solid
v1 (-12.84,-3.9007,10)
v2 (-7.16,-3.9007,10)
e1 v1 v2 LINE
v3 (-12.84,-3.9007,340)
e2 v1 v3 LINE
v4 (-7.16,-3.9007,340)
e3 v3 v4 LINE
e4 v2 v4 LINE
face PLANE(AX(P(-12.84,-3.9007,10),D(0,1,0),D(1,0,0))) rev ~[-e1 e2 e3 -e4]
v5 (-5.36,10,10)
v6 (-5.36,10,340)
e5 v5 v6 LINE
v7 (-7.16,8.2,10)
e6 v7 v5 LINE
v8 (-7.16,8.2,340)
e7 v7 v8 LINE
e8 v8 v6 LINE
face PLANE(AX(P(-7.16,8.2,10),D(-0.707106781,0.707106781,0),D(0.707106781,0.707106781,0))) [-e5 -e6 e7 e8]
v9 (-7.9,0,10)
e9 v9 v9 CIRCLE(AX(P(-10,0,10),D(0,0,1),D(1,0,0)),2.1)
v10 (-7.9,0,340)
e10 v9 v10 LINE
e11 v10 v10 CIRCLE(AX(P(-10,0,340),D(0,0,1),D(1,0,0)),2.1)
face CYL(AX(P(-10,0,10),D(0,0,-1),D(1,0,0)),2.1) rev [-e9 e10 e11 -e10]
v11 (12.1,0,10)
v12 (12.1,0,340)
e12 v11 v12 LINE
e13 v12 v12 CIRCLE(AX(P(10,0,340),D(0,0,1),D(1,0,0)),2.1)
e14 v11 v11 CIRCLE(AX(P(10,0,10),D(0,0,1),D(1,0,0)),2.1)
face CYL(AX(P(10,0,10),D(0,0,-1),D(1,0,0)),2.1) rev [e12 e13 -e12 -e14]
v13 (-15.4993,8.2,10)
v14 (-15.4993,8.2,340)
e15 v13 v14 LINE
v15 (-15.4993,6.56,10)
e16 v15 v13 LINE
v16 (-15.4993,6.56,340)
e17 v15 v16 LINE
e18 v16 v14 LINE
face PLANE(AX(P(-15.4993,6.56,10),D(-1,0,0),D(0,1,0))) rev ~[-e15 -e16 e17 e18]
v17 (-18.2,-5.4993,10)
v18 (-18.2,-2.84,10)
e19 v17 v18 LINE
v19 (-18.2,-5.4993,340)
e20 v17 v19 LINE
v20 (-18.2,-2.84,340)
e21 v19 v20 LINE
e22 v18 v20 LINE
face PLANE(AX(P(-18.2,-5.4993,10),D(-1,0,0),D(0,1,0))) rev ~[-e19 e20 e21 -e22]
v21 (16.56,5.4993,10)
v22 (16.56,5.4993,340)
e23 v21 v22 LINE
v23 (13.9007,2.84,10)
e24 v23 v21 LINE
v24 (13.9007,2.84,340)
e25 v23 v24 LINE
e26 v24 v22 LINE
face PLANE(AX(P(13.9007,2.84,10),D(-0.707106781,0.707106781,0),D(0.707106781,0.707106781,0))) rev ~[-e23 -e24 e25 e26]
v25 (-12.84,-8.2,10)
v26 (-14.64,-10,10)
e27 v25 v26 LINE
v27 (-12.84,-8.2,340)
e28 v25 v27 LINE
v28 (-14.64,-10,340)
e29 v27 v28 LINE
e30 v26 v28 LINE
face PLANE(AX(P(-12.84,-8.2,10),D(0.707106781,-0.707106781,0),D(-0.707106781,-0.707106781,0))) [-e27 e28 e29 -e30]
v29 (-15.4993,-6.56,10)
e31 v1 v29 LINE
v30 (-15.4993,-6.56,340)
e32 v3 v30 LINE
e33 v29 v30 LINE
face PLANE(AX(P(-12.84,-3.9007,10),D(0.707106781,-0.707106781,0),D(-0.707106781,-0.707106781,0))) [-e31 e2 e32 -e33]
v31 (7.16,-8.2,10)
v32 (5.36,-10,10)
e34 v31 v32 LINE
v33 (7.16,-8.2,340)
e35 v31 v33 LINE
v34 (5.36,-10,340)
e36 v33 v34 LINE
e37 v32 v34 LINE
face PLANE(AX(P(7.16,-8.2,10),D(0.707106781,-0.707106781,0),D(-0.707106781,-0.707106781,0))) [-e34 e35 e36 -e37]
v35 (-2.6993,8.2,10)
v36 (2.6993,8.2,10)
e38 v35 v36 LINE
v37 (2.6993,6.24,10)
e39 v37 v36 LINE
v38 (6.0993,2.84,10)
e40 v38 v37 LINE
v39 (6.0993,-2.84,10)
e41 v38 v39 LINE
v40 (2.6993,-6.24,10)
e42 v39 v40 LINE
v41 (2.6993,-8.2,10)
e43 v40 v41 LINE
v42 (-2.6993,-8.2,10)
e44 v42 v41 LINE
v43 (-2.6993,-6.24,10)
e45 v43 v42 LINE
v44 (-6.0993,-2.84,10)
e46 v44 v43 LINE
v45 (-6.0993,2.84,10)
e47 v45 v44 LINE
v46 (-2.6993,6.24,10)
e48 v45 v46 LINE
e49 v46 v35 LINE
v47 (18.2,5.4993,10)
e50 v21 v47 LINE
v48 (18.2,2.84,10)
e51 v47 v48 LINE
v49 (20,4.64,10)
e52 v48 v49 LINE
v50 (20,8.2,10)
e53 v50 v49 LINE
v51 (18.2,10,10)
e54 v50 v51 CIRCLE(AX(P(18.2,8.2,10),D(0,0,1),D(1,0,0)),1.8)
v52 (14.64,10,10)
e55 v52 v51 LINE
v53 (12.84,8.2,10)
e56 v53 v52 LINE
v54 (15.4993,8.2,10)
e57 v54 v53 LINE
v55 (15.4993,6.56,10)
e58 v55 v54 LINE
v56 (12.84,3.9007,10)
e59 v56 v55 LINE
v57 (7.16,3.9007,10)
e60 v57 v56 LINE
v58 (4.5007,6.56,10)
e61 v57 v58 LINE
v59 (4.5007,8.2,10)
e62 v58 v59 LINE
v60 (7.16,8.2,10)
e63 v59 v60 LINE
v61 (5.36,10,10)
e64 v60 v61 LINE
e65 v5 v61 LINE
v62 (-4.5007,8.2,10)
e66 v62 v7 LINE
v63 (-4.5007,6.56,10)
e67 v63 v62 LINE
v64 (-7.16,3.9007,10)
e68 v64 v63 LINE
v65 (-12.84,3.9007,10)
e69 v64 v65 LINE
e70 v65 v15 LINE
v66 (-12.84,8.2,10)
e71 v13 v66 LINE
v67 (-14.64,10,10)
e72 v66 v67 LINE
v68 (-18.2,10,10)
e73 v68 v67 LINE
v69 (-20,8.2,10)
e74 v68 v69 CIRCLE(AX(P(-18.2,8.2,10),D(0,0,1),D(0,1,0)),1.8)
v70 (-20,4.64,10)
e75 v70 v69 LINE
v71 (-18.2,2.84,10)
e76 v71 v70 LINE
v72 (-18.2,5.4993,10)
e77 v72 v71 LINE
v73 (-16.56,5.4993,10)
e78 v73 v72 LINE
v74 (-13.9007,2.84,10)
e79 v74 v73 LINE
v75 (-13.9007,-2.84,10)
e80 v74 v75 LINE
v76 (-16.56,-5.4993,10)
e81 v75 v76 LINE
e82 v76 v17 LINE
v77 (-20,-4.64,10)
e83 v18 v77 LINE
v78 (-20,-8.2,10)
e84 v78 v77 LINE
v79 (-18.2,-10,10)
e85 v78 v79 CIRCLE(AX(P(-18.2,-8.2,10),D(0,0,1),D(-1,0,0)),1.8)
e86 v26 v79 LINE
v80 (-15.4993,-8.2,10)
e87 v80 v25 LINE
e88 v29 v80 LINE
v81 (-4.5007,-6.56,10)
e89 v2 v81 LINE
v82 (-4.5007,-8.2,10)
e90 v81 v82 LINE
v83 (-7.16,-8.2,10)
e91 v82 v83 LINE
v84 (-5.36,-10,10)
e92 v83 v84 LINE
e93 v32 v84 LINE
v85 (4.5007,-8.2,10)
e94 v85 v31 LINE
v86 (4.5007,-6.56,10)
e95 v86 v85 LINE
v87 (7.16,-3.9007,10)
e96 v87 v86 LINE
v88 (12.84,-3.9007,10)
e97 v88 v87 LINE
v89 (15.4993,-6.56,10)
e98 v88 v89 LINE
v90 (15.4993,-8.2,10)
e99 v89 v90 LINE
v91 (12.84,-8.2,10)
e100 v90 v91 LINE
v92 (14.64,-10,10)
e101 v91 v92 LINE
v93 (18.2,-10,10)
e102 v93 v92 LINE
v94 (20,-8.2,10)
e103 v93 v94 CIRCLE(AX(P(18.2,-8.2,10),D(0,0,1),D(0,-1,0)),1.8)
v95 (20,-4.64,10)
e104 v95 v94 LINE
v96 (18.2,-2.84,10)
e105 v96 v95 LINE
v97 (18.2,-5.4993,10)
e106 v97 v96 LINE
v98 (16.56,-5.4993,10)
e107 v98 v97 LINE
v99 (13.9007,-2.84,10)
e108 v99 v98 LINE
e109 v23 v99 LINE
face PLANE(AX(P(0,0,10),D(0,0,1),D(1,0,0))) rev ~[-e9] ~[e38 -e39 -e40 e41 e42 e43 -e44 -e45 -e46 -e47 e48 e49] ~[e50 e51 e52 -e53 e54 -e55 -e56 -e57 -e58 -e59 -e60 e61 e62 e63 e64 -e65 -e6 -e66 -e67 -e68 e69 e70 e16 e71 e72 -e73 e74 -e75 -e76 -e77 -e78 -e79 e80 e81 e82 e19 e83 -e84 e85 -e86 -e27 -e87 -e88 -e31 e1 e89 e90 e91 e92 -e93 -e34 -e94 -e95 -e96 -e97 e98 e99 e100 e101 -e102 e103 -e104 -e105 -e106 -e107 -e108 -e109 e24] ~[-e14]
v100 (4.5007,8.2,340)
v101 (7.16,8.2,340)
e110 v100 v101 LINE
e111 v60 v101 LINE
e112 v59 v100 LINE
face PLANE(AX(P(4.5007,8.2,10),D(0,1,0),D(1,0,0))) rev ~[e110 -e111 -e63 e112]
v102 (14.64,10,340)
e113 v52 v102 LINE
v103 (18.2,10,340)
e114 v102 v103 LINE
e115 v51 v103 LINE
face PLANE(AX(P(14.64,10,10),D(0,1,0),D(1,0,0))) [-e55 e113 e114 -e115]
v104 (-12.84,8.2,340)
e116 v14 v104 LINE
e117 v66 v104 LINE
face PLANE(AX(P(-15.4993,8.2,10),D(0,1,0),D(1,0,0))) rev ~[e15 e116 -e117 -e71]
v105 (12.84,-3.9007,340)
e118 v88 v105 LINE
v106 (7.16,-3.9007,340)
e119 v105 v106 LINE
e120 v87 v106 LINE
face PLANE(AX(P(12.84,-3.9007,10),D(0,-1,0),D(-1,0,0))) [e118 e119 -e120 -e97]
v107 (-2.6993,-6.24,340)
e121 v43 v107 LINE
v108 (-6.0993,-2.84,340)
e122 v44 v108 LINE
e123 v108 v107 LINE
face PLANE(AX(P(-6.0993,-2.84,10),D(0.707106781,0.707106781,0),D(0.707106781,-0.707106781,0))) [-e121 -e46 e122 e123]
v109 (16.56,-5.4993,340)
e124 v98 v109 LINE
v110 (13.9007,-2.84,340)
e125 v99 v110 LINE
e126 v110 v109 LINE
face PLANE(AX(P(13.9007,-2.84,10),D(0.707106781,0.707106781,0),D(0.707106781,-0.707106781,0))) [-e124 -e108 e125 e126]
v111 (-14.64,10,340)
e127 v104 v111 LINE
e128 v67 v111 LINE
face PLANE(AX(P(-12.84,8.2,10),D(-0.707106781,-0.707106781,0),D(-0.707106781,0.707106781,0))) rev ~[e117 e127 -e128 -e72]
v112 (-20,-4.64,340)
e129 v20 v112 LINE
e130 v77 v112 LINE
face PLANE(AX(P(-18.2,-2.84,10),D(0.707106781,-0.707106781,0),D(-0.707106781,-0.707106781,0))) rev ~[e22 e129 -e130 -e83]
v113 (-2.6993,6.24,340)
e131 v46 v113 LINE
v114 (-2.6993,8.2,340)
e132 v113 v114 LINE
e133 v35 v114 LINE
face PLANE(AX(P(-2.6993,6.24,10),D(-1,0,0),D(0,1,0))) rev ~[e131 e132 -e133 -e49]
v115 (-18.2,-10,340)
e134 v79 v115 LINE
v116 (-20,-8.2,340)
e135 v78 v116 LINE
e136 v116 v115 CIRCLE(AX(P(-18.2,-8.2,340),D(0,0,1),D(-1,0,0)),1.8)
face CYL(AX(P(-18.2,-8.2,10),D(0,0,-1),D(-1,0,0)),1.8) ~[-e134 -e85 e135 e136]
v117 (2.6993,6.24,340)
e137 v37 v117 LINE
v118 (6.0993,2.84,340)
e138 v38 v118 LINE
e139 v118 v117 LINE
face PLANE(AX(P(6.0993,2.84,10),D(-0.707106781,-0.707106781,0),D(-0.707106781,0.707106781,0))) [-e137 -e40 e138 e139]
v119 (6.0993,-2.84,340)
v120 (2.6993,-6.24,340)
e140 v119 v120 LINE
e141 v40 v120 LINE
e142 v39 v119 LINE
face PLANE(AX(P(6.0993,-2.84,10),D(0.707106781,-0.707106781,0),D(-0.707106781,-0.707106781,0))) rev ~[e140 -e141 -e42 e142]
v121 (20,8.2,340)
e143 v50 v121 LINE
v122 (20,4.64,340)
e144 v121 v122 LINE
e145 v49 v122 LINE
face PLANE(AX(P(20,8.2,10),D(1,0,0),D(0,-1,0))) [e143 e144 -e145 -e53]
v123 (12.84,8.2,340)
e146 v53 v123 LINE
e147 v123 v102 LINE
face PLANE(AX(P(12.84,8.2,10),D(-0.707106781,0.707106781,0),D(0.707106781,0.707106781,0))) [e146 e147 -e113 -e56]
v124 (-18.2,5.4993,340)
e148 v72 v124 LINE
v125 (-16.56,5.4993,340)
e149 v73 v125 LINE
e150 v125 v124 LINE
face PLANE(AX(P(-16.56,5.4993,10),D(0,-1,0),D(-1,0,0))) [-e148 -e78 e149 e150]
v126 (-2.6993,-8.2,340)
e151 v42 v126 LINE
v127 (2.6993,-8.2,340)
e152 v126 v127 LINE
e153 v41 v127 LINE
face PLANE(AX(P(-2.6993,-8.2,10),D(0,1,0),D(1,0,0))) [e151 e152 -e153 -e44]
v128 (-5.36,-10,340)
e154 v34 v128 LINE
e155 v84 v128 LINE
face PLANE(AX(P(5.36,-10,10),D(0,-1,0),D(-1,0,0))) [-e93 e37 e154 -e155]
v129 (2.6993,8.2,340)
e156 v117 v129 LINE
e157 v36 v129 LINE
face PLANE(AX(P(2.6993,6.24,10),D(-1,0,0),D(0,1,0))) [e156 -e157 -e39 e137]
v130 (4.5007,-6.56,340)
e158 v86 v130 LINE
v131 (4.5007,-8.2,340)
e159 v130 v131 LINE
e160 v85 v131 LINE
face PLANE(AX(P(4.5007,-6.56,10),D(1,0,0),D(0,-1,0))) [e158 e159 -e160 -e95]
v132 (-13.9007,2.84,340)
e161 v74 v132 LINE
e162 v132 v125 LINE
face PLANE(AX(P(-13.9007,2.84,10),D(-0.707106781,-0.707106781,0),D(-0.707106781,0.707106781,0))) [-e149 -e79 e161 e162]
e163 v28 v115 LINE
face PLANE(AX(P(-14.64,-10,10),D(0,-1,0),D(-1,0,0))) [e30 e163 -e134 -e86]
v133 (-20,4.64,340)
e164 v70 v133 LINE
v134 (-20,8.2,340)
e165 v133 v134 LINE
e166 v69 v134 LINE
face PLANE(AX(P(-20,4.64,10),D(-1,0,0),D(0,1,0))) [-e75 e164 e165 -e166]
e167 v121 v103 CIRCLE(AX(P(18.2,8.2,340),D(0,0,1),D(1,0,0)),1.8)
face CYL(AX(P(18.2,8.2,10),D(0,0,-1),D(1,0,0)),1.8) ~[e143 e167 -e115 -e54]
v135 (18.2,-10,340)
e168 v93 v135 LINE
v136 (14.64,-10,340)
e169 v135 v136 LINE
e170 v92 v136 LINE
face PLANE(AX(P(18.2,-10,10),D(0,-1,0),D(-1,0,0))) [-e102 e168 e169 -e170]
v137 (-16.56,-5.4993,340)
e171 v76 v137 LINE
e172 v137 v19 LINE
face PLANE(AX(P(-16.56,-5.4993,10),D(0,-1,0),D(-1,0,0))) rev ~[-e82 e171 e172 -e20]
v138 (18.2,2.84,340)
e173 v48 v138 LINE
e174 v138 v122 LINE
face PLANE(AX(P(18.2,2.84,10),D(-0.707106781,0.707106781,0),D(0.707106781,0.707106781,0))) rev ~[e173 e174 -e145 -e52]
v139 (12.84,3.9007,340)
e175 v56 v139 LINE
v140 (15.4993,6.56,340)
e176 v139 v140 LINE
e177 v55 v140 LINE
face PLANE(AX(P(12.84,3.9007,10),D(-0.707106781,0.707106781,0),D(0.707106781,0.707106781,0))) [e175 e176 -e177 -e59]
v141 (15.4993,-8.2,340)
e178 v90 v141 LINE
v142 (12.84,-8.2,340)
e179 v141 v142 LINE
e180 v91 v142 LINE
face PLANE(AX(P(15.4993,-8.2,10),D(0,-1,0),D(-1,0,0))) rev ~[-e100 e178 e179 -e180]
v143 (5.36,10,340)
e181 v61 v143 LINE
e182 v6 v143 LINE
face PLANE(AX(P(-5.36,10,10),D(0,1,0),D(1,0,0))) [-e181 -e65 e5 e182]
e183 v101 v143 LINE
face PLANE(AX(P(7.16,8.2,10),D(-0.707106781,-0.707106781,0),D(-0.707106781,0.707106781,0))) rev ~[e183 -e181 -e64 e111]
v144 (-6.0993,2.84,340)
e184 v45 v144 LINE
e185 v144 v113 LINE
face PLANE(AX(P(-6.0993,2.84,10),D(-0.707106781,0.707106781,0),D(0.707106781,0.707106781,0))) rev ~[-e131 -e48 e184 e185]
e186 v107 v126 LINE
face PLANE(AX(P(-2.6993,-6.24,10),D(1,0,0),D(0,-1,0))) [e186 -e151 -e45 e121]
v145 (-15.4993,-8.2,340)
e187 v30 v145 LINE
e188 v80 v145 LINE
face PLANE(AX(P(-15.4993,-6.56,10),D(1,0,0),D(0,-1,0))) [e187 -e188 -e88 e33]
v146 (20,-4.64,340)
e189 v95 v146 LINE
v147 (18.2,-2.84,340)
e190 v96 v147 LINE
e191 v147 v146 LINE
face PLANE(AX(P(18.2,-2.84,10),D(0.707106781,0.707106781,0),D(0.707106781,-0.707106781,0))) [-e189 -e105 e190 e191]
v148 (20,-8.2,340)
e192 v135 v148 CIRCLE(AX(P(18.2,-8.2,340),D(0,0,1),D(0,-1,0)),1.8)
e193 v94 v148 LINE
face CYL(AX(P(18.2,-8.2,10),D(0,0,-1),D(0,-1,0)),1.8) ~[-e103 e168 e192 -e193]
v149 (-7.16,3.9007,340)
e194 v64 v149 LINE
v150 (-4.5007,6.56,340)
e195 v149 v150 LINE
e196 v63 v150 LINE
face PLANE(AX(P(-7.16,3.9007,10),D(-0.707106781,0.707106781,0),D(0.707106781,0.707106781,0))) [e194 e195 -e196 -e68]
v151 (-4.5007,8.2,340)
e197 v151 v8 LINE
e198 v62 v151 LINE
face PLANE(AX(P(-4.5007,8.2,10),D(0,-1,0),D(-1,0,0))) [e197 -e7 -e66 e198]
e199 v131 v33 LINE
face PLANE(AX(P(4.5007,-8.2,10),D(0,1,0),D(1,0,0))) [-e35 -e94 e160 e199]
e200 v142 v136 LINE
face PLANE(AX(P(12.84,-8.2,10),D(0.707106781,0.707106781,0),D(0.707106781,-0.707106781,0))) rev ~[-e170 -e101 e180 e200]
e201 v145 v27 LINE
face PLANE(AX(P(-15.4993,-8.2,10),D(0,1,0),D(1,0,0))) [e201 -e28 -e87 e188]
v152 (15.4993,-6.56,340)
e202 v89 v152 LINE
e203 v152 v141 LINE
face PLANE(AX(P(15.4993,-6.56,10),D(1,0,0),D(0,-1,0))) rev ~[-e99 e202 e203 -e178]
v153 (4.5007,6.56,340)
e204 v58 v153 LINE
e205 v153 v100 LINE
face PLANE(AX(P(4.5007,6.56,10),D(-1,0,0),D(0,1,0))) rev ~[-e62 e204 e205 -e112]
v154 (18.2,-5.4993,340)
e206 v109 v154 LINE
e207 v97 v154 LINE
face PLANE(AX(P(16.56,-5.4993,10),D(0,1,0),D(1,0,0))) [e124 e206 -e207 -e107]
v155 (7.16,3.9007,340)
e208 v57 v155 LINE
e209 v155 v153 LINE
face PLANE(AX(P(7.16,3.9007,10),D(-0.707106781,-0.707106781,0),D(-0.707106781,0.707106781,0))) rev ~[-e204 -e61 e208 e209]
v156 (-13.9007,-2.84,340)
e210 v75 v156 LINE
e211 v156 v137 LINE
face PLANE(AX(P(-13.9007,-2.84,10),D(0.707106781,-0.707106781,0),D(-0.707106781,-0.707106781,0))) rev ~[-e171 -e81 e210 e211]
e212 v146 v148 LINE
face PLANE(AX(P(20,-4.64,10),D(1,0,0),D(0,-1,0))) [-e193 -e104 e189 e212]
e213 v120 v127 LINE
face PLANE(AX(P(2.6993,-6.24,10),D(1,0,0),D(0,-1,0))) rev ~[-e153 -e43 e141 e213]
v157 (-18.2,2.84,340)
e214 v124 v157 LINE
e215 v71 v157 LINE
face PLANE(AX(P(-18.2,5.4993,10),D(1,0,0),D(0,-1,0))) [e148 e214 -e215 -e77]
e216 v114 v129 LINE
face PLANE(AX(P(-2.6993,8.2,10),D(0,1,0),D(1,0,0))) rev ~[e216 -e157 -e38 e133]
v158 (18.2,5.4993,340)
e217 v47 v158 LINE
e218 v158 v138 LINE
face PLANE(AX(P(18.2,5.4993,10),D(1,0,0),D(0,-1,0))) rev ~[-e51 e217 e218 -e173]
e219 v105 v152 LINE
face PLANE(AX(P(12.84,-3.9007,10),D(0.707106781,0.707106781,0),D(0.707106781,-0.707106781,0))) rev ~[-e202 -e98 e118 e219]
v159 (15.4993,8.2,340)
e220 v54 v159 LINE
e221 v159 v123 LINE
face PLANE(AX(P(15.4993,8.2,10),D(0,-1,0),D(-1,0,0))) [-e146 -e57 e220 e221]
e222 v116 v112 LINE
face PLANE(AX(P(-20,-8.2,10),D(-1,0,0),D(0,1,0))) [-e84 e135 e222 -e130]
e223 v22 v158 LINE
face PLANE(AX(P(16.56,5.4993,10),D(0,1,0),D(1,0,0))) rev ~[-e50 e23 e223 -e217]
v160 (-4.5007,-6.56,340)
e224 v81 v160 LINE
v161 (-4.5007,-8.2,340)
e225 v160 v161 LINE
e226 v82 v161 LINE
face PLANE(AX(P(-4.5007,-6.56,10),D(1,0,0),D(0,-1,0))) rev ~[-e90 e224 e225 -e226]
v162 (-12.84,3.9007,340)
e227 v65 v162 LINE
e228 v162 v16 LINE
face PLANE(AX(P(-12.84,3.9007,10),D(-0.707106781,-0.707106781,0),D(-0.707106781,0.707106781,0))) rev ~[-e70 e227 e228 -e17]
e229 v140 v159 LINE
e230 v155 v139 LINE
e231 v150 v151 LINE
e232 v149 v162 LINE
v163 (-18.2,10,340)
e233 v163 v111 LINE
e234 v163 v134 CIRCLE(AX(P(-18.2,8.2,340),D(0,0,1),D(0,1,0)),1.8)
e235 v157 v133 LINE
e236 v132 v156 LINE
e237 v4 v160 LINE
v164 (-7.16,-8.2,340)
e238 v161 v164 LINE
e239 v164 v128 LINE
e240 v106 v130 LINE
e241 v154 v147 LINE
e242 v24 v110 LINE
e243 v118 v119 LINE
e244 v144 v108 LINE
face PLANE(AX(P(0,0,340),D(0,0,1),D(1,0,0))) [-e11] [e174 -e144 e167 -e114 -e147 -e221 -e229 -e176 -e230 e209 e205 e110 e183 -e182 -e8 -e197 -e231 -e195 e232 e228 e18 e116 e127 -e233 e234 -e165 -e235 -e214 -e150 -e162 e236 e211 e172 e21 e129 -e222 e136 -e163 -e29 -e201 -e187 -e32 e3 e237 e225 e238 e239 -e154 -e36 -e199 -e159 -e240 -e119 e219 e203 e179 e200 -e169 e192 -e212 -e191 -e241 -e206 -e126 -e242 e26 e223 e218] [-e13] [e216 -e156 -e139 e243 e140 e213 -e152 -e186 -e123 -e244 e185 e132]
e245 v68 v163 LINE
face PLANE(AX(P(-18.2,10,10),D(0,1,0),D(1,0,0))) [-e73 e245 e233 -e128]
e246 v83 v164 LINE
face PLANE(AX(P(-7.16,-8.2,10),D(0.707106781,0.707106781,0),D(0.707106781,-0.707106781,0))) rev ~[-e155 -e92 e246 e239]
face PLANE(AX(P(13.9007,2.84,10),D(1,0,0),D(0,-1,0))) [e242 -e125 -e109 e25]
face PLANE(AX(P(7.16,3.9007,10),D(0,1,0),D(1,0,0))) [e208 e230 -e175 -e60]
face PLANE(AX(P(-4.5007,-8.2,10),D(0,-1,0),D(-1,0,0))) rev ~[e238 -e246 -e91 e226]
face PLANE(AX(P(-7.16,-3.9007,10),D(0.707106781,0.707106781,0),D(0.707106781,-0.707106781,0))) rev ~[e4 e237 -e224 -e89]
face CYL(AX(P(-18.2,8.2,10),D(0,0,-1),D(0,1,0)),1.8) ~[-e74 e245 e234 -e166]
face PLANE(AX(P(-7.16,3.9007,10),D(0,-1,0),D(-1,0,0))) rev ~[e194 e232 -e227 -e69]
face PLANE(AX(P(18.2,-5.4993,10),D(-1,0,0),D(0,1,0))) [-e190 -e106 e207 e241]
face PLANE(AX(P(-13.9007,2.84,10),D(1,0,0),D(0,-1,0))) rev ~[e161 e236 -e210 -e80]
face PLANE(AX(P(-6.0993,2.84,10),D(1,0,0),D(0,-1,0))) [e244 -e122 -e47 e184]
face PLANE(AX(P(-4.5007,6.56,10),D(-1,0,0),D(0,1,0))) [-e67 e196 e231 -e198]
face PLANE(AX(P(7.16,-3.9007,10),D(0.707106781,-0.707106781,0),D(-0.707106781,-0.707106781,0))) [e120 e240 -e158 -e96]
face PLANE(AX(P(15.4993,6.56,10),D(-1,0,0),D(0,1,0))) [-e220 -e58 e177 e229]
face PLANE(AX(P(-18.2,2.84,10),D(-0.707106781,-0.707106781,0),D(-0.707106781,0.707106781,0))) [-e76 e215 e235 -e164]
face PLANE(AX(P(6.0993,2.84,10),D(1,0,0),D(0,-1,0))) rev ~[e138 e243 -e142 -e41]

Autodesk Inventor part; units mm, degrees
ref_plane "Start Plane" through (0, 0, 10) normal (0, 0, 1) x (1, 0, 0)
ref_plane "End Plane" through (0, 0, 340) normal (0, 0, 1) x (1, 0, 0)
sketch "Sketch" plane through (0, 0, 0) normal (0, 0, 1) x (1, 0, 0)
  line L0 (0, 0) -> (0, 10) construction
  line L1 (-10, 10) -> (-10, 0) construction
  line L2 (0, 0) -> (-10, 0) construction
  circle A0 centre (-10, 0) radius 2.1
  line L3 (-13.9007, 3.9007) -> (-6.0993, 3.9007) construction
  line L4 (-6.0993, 3.9007) -> (-6.0993, -3.9007) construction
  line L5 (-6.0993, -3.9007) -> (-13.9007, -3.9007) construction
  line L6 (-13.9007, -3.9007) -> (-13.9007, 3.9007) construction
  line L7 (-13.9007, 3.9007) -> (-6.0993, -3.9007) construction
  line L8 (-6.0993, 3.9007) -> (-13.9007, -3.9007) construction
  line L9 (-13.9007, -2.84) -> (-12.84, -3.9007) construction
  line L10 (-13.9007, -2.84) -> (-12.4007, -2.84) construction
  line L11 (-12.84, -3.9007) -> (-15.4993, -6.56)
  line L12 (-15.4993, -6.56) -> (-15.4993, -8.2)
  line L13 (-15.4993, -8.2) -> (-12.84, -8.2)
  line L14 (-12.84, -8.2) -> (-14.64, -10)
  line L15 (-7.16, -3.9007) -> (-4.5007, -6.56)
  line L16 (-4.5007, -6.56) -> (-4.5007, -8.2)
  line L17 (-4.5007, -8.2) -> (-7.16, -8.2)
  line L18 (-7.16, -8.2) -> (-5.36, -10)
  line L19 (-12.84, -3.9007) -> (-7.16, -3.9007)
  line L20 (-12.84, 3.9007) -> (-13.9007, 2.84) construction
  line L21 (-12.84, 3.9007) -> (-12.84, 2.4007) construction
  line L22 (-13.9007, 2.84) -> (-16.56, 5.4993)
  line L23 (-16.56, 5.4993) -> (-18.2, 5.4993)
  line L24 (-18.2, 5.4993) -> (-18.2, 2.84)
  line L25 (-18.2, 2.84) -> (-20, 4.64)
  line L26 (-18.2, -2.84) -> (-20, -4.64)
  line L27 (-18.2, -5.4993) -> (-18.2, -2.84)
  line L28 (-16.56, -5.4993) -> (-18.2, -5.4993)
  line L29 (-13.9007, -2.84) -> (-16.56, -5.4993)
  line L30 (-13.9007, 2.84) -> (-13.9007, -2.84)
  line L31 (-6.0993, 2.84) -> (-7.16, 3.9007) construction
  line L32 (-6.0993, 2.84) -> (-7.5993, 2.84) construction
  line L33 (-7.16, 3.9007) -> (-4.5007, 6.56)
  line L34 (-4.5007, 6.56) -> (-4.5007, 8.2)
  line L35 (-4.5007, 8.2) -> (-7.16, 8.2)
  line L36 (-7.16, 8.2) -> (-5.36, 10)
  line L37 (-12.84, 8.2) -> (-14.64, 10)
  line L38 (-15.4993, 8.2) -> (-12.84, 8.2)
  line L39 (-15.4993, 6.56) -> (-15.4993, 8.2)
  line L40 (-12.84, 3.9007) -> (-15.4993, 6.56)
  line L41 (-7.16, 3.9007) -> (-12.84, 3.9007)
  line L42 (-6.0993, 2.84) -> (-2.6993, 6.24)
  line L43 (-2.6993, 6.24) -> (-2.6993, 8.2)
  line L44 (-4.5007, 8.2) -> (0, 8.2) construction
  line L45 (-6.0993, -2.84) -> (-2.6993, -6.24)
  line L46 (-2.6993, -6.24) -> (-2.6993, -8.2)
  line L47 (10, 10) -> (10, 0) construction
  circle A1 centre (10, 0) radius 2.1
  line L48 (13.9007, 3.9007) -> (6.0993, -3.9007) construction
  line L49 (13.9007, -2.84) -> (12.84, -3.9007) construction
  line L50 (12.84, -3.9007) -> (15.4993, -6.56)
  line L51 (15.4993, -6.56) -> (15.4993, -8.2)
  line L52 (15.4993, -8.2) -> (12.84, -8.2)
  line L53 (12.84, -8.2) -> (14.64, -10)
  line L54 (7.16, -8.2) -> (5.36, -10)
  line L55 (4.5007, -8.2) -> (7.16, -8.2)
  line L56 (4.5007, -6.56) -> (4.5007, -8.2)
  line L57 (7.16, -3.9007) -> (4.5007, -6.56)
  line L58 (12.84, -3.9007) -> (7.16, -3.9007)
  line L59 (13.9007, 2.84) -> (13.9007, -2.84)
  line L60 (13.9007, 2.84) -> (16.56, 5.4993)
  line L61 (16.56, 5.4993) -> (18.2, 5.4993)
  line L62 (18.2, 5.4993) -> (18.2, 2.84)
  line L63 (18.2, 2.84) -> (20, 4.64)
  line L64 (18.2, -5.4993) -> (18.2, -2.84)
  line L65 (18.2, -2.84) -> (20, -4.64)
  line L66 (16.56, -5.4993) -> (18.2, -5.4993)
  line L67 (13.9007, -2.84) -> (16.56, -5.4993)
  line L68 (7.16, 3.9007) -> (12.84, 3.9007)
  line L69 (7.16, 3.9007) -> (4.5007, 6.56)
  line L70 (4.5007, 6.56) -> (4.5007, 8.2)
  line L71 (4.5007, 8.2) -> (7.16, 8.2)
  line L72 (7.16, 8.2) -> (5.36, 10)
  line L73 (15.4993, 8.2) -> (12.84, 8.2)
  line L74 (12.84, 8.2) -> (14.64, 10)
  line L75 (15.4993, 6.56) -> (15.4993, 8.2)
  line L76 (12.84, 3.9007) -> (15.4993, 6.56)
  line L77 (6.0993, 2.84) -> (2.6993, 6.24)
  line L78 (2.6993, 6.24) -> (2.6993, 8.2)
  line L79 (6.0993, -2.84) -> (2.6993, -6.24)
  line L80 (2.6993, -6.24) -> (2.6993, -8.2)
  line L81 (-14.64, -10) -> (-18.2, -10)
  line L82 (-20, -8.2) -> (-20, -4.64)
  line L83 (-20, 4.64) -> (-20, 8.2)
  line L84 (-18.2, 10) -> (-14.64, 10)
  line L85 (18.2, -10) -> (14.64, -10)
  line L86 (5.36, -10) -> (-5.36, -10)
  line L87 (-5.36, 10) -> (5.36, 10)
  line L88 (14.64, 10) -> (18.2, 10)
  line L89 (20, 8.2) -> (20, 4.64)
  line L90 (20, -4.64) -> (20, -8.2)
  line L91 (-2.6993, -8.2) -> (2.6993, -8.2)
  line L92 (-2.6993, 8.2) -> (2.6993, 8.2)
  line L93 (-6.0993, 2.84) -> (-6.0993, -2.84)
  line L94 (6.0993, 2.84) -> (6.0993, -2.84)
  arc A2 (-20, -8.2) -> (-18.2, -10) centre (-18.2, -8.2) ccw
  arc A3 (-18.2, 10) -> (-20, 8.2) centre (-18.2, 8.2) ccw
  arc A4 (18.2, -10) -> (20, -8.2) centre (18.2, -8.2) ccw
  arc A5 (20, 8.2) -> (18.2, 10) centre (18.2, 8.2) ccw
  point P0 (-13.9007, -3.9007)
  point P1 (-13.9007, 3.9007)
  point P2 (-13.9007, 3.9007)
  point P3 (-6.0993, 3.9007)
  point P4 (6.0993, 3.9007)
  point P5 (13.9007, -3.9007)
  point P6 (12.4007, -2.84)
  point P7 (13.9007, -3.9007)
  point P8 (13.9007, 3.9007)
  point P9 (12.84, 3.9007)
  point P10 (12.84, 2.4007)
  point P11 (13.9007, 3.9007)
  point P12 (6.0993, 3.9007)
  point P13 (7.5993, 2.84)
  point P14 (-20, 10)
  point P15 (20, -10)
  point P16 (20, 10)
  point P17 (-20, -10)
  dimension "d26" = 10
  dimension "d27" = 10
  dimension "d28" = 4.2
  dimension "d29" = 1.5
  dimension "d30" = 45
  dimension "d32" = 45
  dimension "d33" = 1.64
  dimension "d34" = 1.8
  dimension "d35" = 10
  dimension "d36" = 5.68
  dimension "d39" = 180
  dimension "d41" = 1.96
  dimension "d42" = 5.68
  dimension "d45" = 1.8
extrude "Body" add sketch "Sketch" along normal up to surface (330 mm away) from surface at 10
sketch "Sketch8" plane through (0, 0, 0) normal (0, 0, 1) x (1, 0, 0)
  line L0 (0, 0) -> (10, 0)
ref_plane "Work Plane5" through (0, 0, 0) normal (0, -1, 0) x (1, 0, 0)
sketch "Sketch9" plane through (0, 0, 0) normal (0, -1, 0) x (1, 0, 0)
  line L0 (-2, 10) -> (12, 10)
  line L1 (-2, 340) -> (12, 340)
  dimension "d51" = 330
ref_plane "Work Plane6" through (255, 4.5951, 10) normal (0, 0, -1) x (-1, 0, 0)
split "Split1" plane through (255, 4.5951, 10) removes the side toward (0, 0, -1)
ref_plane "Work Plane7" through (255, -4.5951, 340) normal (0, 0, 1) x (1, 0, 0)
split "Split2" plane through (255, -4.5951, 340) removes the side toward (0, 0, 1)
equation "\"d42\" = d36"
equation "\"G_L\" = d51"
properties part number "vslot 20 x 40" material "Aluminum 6061"
